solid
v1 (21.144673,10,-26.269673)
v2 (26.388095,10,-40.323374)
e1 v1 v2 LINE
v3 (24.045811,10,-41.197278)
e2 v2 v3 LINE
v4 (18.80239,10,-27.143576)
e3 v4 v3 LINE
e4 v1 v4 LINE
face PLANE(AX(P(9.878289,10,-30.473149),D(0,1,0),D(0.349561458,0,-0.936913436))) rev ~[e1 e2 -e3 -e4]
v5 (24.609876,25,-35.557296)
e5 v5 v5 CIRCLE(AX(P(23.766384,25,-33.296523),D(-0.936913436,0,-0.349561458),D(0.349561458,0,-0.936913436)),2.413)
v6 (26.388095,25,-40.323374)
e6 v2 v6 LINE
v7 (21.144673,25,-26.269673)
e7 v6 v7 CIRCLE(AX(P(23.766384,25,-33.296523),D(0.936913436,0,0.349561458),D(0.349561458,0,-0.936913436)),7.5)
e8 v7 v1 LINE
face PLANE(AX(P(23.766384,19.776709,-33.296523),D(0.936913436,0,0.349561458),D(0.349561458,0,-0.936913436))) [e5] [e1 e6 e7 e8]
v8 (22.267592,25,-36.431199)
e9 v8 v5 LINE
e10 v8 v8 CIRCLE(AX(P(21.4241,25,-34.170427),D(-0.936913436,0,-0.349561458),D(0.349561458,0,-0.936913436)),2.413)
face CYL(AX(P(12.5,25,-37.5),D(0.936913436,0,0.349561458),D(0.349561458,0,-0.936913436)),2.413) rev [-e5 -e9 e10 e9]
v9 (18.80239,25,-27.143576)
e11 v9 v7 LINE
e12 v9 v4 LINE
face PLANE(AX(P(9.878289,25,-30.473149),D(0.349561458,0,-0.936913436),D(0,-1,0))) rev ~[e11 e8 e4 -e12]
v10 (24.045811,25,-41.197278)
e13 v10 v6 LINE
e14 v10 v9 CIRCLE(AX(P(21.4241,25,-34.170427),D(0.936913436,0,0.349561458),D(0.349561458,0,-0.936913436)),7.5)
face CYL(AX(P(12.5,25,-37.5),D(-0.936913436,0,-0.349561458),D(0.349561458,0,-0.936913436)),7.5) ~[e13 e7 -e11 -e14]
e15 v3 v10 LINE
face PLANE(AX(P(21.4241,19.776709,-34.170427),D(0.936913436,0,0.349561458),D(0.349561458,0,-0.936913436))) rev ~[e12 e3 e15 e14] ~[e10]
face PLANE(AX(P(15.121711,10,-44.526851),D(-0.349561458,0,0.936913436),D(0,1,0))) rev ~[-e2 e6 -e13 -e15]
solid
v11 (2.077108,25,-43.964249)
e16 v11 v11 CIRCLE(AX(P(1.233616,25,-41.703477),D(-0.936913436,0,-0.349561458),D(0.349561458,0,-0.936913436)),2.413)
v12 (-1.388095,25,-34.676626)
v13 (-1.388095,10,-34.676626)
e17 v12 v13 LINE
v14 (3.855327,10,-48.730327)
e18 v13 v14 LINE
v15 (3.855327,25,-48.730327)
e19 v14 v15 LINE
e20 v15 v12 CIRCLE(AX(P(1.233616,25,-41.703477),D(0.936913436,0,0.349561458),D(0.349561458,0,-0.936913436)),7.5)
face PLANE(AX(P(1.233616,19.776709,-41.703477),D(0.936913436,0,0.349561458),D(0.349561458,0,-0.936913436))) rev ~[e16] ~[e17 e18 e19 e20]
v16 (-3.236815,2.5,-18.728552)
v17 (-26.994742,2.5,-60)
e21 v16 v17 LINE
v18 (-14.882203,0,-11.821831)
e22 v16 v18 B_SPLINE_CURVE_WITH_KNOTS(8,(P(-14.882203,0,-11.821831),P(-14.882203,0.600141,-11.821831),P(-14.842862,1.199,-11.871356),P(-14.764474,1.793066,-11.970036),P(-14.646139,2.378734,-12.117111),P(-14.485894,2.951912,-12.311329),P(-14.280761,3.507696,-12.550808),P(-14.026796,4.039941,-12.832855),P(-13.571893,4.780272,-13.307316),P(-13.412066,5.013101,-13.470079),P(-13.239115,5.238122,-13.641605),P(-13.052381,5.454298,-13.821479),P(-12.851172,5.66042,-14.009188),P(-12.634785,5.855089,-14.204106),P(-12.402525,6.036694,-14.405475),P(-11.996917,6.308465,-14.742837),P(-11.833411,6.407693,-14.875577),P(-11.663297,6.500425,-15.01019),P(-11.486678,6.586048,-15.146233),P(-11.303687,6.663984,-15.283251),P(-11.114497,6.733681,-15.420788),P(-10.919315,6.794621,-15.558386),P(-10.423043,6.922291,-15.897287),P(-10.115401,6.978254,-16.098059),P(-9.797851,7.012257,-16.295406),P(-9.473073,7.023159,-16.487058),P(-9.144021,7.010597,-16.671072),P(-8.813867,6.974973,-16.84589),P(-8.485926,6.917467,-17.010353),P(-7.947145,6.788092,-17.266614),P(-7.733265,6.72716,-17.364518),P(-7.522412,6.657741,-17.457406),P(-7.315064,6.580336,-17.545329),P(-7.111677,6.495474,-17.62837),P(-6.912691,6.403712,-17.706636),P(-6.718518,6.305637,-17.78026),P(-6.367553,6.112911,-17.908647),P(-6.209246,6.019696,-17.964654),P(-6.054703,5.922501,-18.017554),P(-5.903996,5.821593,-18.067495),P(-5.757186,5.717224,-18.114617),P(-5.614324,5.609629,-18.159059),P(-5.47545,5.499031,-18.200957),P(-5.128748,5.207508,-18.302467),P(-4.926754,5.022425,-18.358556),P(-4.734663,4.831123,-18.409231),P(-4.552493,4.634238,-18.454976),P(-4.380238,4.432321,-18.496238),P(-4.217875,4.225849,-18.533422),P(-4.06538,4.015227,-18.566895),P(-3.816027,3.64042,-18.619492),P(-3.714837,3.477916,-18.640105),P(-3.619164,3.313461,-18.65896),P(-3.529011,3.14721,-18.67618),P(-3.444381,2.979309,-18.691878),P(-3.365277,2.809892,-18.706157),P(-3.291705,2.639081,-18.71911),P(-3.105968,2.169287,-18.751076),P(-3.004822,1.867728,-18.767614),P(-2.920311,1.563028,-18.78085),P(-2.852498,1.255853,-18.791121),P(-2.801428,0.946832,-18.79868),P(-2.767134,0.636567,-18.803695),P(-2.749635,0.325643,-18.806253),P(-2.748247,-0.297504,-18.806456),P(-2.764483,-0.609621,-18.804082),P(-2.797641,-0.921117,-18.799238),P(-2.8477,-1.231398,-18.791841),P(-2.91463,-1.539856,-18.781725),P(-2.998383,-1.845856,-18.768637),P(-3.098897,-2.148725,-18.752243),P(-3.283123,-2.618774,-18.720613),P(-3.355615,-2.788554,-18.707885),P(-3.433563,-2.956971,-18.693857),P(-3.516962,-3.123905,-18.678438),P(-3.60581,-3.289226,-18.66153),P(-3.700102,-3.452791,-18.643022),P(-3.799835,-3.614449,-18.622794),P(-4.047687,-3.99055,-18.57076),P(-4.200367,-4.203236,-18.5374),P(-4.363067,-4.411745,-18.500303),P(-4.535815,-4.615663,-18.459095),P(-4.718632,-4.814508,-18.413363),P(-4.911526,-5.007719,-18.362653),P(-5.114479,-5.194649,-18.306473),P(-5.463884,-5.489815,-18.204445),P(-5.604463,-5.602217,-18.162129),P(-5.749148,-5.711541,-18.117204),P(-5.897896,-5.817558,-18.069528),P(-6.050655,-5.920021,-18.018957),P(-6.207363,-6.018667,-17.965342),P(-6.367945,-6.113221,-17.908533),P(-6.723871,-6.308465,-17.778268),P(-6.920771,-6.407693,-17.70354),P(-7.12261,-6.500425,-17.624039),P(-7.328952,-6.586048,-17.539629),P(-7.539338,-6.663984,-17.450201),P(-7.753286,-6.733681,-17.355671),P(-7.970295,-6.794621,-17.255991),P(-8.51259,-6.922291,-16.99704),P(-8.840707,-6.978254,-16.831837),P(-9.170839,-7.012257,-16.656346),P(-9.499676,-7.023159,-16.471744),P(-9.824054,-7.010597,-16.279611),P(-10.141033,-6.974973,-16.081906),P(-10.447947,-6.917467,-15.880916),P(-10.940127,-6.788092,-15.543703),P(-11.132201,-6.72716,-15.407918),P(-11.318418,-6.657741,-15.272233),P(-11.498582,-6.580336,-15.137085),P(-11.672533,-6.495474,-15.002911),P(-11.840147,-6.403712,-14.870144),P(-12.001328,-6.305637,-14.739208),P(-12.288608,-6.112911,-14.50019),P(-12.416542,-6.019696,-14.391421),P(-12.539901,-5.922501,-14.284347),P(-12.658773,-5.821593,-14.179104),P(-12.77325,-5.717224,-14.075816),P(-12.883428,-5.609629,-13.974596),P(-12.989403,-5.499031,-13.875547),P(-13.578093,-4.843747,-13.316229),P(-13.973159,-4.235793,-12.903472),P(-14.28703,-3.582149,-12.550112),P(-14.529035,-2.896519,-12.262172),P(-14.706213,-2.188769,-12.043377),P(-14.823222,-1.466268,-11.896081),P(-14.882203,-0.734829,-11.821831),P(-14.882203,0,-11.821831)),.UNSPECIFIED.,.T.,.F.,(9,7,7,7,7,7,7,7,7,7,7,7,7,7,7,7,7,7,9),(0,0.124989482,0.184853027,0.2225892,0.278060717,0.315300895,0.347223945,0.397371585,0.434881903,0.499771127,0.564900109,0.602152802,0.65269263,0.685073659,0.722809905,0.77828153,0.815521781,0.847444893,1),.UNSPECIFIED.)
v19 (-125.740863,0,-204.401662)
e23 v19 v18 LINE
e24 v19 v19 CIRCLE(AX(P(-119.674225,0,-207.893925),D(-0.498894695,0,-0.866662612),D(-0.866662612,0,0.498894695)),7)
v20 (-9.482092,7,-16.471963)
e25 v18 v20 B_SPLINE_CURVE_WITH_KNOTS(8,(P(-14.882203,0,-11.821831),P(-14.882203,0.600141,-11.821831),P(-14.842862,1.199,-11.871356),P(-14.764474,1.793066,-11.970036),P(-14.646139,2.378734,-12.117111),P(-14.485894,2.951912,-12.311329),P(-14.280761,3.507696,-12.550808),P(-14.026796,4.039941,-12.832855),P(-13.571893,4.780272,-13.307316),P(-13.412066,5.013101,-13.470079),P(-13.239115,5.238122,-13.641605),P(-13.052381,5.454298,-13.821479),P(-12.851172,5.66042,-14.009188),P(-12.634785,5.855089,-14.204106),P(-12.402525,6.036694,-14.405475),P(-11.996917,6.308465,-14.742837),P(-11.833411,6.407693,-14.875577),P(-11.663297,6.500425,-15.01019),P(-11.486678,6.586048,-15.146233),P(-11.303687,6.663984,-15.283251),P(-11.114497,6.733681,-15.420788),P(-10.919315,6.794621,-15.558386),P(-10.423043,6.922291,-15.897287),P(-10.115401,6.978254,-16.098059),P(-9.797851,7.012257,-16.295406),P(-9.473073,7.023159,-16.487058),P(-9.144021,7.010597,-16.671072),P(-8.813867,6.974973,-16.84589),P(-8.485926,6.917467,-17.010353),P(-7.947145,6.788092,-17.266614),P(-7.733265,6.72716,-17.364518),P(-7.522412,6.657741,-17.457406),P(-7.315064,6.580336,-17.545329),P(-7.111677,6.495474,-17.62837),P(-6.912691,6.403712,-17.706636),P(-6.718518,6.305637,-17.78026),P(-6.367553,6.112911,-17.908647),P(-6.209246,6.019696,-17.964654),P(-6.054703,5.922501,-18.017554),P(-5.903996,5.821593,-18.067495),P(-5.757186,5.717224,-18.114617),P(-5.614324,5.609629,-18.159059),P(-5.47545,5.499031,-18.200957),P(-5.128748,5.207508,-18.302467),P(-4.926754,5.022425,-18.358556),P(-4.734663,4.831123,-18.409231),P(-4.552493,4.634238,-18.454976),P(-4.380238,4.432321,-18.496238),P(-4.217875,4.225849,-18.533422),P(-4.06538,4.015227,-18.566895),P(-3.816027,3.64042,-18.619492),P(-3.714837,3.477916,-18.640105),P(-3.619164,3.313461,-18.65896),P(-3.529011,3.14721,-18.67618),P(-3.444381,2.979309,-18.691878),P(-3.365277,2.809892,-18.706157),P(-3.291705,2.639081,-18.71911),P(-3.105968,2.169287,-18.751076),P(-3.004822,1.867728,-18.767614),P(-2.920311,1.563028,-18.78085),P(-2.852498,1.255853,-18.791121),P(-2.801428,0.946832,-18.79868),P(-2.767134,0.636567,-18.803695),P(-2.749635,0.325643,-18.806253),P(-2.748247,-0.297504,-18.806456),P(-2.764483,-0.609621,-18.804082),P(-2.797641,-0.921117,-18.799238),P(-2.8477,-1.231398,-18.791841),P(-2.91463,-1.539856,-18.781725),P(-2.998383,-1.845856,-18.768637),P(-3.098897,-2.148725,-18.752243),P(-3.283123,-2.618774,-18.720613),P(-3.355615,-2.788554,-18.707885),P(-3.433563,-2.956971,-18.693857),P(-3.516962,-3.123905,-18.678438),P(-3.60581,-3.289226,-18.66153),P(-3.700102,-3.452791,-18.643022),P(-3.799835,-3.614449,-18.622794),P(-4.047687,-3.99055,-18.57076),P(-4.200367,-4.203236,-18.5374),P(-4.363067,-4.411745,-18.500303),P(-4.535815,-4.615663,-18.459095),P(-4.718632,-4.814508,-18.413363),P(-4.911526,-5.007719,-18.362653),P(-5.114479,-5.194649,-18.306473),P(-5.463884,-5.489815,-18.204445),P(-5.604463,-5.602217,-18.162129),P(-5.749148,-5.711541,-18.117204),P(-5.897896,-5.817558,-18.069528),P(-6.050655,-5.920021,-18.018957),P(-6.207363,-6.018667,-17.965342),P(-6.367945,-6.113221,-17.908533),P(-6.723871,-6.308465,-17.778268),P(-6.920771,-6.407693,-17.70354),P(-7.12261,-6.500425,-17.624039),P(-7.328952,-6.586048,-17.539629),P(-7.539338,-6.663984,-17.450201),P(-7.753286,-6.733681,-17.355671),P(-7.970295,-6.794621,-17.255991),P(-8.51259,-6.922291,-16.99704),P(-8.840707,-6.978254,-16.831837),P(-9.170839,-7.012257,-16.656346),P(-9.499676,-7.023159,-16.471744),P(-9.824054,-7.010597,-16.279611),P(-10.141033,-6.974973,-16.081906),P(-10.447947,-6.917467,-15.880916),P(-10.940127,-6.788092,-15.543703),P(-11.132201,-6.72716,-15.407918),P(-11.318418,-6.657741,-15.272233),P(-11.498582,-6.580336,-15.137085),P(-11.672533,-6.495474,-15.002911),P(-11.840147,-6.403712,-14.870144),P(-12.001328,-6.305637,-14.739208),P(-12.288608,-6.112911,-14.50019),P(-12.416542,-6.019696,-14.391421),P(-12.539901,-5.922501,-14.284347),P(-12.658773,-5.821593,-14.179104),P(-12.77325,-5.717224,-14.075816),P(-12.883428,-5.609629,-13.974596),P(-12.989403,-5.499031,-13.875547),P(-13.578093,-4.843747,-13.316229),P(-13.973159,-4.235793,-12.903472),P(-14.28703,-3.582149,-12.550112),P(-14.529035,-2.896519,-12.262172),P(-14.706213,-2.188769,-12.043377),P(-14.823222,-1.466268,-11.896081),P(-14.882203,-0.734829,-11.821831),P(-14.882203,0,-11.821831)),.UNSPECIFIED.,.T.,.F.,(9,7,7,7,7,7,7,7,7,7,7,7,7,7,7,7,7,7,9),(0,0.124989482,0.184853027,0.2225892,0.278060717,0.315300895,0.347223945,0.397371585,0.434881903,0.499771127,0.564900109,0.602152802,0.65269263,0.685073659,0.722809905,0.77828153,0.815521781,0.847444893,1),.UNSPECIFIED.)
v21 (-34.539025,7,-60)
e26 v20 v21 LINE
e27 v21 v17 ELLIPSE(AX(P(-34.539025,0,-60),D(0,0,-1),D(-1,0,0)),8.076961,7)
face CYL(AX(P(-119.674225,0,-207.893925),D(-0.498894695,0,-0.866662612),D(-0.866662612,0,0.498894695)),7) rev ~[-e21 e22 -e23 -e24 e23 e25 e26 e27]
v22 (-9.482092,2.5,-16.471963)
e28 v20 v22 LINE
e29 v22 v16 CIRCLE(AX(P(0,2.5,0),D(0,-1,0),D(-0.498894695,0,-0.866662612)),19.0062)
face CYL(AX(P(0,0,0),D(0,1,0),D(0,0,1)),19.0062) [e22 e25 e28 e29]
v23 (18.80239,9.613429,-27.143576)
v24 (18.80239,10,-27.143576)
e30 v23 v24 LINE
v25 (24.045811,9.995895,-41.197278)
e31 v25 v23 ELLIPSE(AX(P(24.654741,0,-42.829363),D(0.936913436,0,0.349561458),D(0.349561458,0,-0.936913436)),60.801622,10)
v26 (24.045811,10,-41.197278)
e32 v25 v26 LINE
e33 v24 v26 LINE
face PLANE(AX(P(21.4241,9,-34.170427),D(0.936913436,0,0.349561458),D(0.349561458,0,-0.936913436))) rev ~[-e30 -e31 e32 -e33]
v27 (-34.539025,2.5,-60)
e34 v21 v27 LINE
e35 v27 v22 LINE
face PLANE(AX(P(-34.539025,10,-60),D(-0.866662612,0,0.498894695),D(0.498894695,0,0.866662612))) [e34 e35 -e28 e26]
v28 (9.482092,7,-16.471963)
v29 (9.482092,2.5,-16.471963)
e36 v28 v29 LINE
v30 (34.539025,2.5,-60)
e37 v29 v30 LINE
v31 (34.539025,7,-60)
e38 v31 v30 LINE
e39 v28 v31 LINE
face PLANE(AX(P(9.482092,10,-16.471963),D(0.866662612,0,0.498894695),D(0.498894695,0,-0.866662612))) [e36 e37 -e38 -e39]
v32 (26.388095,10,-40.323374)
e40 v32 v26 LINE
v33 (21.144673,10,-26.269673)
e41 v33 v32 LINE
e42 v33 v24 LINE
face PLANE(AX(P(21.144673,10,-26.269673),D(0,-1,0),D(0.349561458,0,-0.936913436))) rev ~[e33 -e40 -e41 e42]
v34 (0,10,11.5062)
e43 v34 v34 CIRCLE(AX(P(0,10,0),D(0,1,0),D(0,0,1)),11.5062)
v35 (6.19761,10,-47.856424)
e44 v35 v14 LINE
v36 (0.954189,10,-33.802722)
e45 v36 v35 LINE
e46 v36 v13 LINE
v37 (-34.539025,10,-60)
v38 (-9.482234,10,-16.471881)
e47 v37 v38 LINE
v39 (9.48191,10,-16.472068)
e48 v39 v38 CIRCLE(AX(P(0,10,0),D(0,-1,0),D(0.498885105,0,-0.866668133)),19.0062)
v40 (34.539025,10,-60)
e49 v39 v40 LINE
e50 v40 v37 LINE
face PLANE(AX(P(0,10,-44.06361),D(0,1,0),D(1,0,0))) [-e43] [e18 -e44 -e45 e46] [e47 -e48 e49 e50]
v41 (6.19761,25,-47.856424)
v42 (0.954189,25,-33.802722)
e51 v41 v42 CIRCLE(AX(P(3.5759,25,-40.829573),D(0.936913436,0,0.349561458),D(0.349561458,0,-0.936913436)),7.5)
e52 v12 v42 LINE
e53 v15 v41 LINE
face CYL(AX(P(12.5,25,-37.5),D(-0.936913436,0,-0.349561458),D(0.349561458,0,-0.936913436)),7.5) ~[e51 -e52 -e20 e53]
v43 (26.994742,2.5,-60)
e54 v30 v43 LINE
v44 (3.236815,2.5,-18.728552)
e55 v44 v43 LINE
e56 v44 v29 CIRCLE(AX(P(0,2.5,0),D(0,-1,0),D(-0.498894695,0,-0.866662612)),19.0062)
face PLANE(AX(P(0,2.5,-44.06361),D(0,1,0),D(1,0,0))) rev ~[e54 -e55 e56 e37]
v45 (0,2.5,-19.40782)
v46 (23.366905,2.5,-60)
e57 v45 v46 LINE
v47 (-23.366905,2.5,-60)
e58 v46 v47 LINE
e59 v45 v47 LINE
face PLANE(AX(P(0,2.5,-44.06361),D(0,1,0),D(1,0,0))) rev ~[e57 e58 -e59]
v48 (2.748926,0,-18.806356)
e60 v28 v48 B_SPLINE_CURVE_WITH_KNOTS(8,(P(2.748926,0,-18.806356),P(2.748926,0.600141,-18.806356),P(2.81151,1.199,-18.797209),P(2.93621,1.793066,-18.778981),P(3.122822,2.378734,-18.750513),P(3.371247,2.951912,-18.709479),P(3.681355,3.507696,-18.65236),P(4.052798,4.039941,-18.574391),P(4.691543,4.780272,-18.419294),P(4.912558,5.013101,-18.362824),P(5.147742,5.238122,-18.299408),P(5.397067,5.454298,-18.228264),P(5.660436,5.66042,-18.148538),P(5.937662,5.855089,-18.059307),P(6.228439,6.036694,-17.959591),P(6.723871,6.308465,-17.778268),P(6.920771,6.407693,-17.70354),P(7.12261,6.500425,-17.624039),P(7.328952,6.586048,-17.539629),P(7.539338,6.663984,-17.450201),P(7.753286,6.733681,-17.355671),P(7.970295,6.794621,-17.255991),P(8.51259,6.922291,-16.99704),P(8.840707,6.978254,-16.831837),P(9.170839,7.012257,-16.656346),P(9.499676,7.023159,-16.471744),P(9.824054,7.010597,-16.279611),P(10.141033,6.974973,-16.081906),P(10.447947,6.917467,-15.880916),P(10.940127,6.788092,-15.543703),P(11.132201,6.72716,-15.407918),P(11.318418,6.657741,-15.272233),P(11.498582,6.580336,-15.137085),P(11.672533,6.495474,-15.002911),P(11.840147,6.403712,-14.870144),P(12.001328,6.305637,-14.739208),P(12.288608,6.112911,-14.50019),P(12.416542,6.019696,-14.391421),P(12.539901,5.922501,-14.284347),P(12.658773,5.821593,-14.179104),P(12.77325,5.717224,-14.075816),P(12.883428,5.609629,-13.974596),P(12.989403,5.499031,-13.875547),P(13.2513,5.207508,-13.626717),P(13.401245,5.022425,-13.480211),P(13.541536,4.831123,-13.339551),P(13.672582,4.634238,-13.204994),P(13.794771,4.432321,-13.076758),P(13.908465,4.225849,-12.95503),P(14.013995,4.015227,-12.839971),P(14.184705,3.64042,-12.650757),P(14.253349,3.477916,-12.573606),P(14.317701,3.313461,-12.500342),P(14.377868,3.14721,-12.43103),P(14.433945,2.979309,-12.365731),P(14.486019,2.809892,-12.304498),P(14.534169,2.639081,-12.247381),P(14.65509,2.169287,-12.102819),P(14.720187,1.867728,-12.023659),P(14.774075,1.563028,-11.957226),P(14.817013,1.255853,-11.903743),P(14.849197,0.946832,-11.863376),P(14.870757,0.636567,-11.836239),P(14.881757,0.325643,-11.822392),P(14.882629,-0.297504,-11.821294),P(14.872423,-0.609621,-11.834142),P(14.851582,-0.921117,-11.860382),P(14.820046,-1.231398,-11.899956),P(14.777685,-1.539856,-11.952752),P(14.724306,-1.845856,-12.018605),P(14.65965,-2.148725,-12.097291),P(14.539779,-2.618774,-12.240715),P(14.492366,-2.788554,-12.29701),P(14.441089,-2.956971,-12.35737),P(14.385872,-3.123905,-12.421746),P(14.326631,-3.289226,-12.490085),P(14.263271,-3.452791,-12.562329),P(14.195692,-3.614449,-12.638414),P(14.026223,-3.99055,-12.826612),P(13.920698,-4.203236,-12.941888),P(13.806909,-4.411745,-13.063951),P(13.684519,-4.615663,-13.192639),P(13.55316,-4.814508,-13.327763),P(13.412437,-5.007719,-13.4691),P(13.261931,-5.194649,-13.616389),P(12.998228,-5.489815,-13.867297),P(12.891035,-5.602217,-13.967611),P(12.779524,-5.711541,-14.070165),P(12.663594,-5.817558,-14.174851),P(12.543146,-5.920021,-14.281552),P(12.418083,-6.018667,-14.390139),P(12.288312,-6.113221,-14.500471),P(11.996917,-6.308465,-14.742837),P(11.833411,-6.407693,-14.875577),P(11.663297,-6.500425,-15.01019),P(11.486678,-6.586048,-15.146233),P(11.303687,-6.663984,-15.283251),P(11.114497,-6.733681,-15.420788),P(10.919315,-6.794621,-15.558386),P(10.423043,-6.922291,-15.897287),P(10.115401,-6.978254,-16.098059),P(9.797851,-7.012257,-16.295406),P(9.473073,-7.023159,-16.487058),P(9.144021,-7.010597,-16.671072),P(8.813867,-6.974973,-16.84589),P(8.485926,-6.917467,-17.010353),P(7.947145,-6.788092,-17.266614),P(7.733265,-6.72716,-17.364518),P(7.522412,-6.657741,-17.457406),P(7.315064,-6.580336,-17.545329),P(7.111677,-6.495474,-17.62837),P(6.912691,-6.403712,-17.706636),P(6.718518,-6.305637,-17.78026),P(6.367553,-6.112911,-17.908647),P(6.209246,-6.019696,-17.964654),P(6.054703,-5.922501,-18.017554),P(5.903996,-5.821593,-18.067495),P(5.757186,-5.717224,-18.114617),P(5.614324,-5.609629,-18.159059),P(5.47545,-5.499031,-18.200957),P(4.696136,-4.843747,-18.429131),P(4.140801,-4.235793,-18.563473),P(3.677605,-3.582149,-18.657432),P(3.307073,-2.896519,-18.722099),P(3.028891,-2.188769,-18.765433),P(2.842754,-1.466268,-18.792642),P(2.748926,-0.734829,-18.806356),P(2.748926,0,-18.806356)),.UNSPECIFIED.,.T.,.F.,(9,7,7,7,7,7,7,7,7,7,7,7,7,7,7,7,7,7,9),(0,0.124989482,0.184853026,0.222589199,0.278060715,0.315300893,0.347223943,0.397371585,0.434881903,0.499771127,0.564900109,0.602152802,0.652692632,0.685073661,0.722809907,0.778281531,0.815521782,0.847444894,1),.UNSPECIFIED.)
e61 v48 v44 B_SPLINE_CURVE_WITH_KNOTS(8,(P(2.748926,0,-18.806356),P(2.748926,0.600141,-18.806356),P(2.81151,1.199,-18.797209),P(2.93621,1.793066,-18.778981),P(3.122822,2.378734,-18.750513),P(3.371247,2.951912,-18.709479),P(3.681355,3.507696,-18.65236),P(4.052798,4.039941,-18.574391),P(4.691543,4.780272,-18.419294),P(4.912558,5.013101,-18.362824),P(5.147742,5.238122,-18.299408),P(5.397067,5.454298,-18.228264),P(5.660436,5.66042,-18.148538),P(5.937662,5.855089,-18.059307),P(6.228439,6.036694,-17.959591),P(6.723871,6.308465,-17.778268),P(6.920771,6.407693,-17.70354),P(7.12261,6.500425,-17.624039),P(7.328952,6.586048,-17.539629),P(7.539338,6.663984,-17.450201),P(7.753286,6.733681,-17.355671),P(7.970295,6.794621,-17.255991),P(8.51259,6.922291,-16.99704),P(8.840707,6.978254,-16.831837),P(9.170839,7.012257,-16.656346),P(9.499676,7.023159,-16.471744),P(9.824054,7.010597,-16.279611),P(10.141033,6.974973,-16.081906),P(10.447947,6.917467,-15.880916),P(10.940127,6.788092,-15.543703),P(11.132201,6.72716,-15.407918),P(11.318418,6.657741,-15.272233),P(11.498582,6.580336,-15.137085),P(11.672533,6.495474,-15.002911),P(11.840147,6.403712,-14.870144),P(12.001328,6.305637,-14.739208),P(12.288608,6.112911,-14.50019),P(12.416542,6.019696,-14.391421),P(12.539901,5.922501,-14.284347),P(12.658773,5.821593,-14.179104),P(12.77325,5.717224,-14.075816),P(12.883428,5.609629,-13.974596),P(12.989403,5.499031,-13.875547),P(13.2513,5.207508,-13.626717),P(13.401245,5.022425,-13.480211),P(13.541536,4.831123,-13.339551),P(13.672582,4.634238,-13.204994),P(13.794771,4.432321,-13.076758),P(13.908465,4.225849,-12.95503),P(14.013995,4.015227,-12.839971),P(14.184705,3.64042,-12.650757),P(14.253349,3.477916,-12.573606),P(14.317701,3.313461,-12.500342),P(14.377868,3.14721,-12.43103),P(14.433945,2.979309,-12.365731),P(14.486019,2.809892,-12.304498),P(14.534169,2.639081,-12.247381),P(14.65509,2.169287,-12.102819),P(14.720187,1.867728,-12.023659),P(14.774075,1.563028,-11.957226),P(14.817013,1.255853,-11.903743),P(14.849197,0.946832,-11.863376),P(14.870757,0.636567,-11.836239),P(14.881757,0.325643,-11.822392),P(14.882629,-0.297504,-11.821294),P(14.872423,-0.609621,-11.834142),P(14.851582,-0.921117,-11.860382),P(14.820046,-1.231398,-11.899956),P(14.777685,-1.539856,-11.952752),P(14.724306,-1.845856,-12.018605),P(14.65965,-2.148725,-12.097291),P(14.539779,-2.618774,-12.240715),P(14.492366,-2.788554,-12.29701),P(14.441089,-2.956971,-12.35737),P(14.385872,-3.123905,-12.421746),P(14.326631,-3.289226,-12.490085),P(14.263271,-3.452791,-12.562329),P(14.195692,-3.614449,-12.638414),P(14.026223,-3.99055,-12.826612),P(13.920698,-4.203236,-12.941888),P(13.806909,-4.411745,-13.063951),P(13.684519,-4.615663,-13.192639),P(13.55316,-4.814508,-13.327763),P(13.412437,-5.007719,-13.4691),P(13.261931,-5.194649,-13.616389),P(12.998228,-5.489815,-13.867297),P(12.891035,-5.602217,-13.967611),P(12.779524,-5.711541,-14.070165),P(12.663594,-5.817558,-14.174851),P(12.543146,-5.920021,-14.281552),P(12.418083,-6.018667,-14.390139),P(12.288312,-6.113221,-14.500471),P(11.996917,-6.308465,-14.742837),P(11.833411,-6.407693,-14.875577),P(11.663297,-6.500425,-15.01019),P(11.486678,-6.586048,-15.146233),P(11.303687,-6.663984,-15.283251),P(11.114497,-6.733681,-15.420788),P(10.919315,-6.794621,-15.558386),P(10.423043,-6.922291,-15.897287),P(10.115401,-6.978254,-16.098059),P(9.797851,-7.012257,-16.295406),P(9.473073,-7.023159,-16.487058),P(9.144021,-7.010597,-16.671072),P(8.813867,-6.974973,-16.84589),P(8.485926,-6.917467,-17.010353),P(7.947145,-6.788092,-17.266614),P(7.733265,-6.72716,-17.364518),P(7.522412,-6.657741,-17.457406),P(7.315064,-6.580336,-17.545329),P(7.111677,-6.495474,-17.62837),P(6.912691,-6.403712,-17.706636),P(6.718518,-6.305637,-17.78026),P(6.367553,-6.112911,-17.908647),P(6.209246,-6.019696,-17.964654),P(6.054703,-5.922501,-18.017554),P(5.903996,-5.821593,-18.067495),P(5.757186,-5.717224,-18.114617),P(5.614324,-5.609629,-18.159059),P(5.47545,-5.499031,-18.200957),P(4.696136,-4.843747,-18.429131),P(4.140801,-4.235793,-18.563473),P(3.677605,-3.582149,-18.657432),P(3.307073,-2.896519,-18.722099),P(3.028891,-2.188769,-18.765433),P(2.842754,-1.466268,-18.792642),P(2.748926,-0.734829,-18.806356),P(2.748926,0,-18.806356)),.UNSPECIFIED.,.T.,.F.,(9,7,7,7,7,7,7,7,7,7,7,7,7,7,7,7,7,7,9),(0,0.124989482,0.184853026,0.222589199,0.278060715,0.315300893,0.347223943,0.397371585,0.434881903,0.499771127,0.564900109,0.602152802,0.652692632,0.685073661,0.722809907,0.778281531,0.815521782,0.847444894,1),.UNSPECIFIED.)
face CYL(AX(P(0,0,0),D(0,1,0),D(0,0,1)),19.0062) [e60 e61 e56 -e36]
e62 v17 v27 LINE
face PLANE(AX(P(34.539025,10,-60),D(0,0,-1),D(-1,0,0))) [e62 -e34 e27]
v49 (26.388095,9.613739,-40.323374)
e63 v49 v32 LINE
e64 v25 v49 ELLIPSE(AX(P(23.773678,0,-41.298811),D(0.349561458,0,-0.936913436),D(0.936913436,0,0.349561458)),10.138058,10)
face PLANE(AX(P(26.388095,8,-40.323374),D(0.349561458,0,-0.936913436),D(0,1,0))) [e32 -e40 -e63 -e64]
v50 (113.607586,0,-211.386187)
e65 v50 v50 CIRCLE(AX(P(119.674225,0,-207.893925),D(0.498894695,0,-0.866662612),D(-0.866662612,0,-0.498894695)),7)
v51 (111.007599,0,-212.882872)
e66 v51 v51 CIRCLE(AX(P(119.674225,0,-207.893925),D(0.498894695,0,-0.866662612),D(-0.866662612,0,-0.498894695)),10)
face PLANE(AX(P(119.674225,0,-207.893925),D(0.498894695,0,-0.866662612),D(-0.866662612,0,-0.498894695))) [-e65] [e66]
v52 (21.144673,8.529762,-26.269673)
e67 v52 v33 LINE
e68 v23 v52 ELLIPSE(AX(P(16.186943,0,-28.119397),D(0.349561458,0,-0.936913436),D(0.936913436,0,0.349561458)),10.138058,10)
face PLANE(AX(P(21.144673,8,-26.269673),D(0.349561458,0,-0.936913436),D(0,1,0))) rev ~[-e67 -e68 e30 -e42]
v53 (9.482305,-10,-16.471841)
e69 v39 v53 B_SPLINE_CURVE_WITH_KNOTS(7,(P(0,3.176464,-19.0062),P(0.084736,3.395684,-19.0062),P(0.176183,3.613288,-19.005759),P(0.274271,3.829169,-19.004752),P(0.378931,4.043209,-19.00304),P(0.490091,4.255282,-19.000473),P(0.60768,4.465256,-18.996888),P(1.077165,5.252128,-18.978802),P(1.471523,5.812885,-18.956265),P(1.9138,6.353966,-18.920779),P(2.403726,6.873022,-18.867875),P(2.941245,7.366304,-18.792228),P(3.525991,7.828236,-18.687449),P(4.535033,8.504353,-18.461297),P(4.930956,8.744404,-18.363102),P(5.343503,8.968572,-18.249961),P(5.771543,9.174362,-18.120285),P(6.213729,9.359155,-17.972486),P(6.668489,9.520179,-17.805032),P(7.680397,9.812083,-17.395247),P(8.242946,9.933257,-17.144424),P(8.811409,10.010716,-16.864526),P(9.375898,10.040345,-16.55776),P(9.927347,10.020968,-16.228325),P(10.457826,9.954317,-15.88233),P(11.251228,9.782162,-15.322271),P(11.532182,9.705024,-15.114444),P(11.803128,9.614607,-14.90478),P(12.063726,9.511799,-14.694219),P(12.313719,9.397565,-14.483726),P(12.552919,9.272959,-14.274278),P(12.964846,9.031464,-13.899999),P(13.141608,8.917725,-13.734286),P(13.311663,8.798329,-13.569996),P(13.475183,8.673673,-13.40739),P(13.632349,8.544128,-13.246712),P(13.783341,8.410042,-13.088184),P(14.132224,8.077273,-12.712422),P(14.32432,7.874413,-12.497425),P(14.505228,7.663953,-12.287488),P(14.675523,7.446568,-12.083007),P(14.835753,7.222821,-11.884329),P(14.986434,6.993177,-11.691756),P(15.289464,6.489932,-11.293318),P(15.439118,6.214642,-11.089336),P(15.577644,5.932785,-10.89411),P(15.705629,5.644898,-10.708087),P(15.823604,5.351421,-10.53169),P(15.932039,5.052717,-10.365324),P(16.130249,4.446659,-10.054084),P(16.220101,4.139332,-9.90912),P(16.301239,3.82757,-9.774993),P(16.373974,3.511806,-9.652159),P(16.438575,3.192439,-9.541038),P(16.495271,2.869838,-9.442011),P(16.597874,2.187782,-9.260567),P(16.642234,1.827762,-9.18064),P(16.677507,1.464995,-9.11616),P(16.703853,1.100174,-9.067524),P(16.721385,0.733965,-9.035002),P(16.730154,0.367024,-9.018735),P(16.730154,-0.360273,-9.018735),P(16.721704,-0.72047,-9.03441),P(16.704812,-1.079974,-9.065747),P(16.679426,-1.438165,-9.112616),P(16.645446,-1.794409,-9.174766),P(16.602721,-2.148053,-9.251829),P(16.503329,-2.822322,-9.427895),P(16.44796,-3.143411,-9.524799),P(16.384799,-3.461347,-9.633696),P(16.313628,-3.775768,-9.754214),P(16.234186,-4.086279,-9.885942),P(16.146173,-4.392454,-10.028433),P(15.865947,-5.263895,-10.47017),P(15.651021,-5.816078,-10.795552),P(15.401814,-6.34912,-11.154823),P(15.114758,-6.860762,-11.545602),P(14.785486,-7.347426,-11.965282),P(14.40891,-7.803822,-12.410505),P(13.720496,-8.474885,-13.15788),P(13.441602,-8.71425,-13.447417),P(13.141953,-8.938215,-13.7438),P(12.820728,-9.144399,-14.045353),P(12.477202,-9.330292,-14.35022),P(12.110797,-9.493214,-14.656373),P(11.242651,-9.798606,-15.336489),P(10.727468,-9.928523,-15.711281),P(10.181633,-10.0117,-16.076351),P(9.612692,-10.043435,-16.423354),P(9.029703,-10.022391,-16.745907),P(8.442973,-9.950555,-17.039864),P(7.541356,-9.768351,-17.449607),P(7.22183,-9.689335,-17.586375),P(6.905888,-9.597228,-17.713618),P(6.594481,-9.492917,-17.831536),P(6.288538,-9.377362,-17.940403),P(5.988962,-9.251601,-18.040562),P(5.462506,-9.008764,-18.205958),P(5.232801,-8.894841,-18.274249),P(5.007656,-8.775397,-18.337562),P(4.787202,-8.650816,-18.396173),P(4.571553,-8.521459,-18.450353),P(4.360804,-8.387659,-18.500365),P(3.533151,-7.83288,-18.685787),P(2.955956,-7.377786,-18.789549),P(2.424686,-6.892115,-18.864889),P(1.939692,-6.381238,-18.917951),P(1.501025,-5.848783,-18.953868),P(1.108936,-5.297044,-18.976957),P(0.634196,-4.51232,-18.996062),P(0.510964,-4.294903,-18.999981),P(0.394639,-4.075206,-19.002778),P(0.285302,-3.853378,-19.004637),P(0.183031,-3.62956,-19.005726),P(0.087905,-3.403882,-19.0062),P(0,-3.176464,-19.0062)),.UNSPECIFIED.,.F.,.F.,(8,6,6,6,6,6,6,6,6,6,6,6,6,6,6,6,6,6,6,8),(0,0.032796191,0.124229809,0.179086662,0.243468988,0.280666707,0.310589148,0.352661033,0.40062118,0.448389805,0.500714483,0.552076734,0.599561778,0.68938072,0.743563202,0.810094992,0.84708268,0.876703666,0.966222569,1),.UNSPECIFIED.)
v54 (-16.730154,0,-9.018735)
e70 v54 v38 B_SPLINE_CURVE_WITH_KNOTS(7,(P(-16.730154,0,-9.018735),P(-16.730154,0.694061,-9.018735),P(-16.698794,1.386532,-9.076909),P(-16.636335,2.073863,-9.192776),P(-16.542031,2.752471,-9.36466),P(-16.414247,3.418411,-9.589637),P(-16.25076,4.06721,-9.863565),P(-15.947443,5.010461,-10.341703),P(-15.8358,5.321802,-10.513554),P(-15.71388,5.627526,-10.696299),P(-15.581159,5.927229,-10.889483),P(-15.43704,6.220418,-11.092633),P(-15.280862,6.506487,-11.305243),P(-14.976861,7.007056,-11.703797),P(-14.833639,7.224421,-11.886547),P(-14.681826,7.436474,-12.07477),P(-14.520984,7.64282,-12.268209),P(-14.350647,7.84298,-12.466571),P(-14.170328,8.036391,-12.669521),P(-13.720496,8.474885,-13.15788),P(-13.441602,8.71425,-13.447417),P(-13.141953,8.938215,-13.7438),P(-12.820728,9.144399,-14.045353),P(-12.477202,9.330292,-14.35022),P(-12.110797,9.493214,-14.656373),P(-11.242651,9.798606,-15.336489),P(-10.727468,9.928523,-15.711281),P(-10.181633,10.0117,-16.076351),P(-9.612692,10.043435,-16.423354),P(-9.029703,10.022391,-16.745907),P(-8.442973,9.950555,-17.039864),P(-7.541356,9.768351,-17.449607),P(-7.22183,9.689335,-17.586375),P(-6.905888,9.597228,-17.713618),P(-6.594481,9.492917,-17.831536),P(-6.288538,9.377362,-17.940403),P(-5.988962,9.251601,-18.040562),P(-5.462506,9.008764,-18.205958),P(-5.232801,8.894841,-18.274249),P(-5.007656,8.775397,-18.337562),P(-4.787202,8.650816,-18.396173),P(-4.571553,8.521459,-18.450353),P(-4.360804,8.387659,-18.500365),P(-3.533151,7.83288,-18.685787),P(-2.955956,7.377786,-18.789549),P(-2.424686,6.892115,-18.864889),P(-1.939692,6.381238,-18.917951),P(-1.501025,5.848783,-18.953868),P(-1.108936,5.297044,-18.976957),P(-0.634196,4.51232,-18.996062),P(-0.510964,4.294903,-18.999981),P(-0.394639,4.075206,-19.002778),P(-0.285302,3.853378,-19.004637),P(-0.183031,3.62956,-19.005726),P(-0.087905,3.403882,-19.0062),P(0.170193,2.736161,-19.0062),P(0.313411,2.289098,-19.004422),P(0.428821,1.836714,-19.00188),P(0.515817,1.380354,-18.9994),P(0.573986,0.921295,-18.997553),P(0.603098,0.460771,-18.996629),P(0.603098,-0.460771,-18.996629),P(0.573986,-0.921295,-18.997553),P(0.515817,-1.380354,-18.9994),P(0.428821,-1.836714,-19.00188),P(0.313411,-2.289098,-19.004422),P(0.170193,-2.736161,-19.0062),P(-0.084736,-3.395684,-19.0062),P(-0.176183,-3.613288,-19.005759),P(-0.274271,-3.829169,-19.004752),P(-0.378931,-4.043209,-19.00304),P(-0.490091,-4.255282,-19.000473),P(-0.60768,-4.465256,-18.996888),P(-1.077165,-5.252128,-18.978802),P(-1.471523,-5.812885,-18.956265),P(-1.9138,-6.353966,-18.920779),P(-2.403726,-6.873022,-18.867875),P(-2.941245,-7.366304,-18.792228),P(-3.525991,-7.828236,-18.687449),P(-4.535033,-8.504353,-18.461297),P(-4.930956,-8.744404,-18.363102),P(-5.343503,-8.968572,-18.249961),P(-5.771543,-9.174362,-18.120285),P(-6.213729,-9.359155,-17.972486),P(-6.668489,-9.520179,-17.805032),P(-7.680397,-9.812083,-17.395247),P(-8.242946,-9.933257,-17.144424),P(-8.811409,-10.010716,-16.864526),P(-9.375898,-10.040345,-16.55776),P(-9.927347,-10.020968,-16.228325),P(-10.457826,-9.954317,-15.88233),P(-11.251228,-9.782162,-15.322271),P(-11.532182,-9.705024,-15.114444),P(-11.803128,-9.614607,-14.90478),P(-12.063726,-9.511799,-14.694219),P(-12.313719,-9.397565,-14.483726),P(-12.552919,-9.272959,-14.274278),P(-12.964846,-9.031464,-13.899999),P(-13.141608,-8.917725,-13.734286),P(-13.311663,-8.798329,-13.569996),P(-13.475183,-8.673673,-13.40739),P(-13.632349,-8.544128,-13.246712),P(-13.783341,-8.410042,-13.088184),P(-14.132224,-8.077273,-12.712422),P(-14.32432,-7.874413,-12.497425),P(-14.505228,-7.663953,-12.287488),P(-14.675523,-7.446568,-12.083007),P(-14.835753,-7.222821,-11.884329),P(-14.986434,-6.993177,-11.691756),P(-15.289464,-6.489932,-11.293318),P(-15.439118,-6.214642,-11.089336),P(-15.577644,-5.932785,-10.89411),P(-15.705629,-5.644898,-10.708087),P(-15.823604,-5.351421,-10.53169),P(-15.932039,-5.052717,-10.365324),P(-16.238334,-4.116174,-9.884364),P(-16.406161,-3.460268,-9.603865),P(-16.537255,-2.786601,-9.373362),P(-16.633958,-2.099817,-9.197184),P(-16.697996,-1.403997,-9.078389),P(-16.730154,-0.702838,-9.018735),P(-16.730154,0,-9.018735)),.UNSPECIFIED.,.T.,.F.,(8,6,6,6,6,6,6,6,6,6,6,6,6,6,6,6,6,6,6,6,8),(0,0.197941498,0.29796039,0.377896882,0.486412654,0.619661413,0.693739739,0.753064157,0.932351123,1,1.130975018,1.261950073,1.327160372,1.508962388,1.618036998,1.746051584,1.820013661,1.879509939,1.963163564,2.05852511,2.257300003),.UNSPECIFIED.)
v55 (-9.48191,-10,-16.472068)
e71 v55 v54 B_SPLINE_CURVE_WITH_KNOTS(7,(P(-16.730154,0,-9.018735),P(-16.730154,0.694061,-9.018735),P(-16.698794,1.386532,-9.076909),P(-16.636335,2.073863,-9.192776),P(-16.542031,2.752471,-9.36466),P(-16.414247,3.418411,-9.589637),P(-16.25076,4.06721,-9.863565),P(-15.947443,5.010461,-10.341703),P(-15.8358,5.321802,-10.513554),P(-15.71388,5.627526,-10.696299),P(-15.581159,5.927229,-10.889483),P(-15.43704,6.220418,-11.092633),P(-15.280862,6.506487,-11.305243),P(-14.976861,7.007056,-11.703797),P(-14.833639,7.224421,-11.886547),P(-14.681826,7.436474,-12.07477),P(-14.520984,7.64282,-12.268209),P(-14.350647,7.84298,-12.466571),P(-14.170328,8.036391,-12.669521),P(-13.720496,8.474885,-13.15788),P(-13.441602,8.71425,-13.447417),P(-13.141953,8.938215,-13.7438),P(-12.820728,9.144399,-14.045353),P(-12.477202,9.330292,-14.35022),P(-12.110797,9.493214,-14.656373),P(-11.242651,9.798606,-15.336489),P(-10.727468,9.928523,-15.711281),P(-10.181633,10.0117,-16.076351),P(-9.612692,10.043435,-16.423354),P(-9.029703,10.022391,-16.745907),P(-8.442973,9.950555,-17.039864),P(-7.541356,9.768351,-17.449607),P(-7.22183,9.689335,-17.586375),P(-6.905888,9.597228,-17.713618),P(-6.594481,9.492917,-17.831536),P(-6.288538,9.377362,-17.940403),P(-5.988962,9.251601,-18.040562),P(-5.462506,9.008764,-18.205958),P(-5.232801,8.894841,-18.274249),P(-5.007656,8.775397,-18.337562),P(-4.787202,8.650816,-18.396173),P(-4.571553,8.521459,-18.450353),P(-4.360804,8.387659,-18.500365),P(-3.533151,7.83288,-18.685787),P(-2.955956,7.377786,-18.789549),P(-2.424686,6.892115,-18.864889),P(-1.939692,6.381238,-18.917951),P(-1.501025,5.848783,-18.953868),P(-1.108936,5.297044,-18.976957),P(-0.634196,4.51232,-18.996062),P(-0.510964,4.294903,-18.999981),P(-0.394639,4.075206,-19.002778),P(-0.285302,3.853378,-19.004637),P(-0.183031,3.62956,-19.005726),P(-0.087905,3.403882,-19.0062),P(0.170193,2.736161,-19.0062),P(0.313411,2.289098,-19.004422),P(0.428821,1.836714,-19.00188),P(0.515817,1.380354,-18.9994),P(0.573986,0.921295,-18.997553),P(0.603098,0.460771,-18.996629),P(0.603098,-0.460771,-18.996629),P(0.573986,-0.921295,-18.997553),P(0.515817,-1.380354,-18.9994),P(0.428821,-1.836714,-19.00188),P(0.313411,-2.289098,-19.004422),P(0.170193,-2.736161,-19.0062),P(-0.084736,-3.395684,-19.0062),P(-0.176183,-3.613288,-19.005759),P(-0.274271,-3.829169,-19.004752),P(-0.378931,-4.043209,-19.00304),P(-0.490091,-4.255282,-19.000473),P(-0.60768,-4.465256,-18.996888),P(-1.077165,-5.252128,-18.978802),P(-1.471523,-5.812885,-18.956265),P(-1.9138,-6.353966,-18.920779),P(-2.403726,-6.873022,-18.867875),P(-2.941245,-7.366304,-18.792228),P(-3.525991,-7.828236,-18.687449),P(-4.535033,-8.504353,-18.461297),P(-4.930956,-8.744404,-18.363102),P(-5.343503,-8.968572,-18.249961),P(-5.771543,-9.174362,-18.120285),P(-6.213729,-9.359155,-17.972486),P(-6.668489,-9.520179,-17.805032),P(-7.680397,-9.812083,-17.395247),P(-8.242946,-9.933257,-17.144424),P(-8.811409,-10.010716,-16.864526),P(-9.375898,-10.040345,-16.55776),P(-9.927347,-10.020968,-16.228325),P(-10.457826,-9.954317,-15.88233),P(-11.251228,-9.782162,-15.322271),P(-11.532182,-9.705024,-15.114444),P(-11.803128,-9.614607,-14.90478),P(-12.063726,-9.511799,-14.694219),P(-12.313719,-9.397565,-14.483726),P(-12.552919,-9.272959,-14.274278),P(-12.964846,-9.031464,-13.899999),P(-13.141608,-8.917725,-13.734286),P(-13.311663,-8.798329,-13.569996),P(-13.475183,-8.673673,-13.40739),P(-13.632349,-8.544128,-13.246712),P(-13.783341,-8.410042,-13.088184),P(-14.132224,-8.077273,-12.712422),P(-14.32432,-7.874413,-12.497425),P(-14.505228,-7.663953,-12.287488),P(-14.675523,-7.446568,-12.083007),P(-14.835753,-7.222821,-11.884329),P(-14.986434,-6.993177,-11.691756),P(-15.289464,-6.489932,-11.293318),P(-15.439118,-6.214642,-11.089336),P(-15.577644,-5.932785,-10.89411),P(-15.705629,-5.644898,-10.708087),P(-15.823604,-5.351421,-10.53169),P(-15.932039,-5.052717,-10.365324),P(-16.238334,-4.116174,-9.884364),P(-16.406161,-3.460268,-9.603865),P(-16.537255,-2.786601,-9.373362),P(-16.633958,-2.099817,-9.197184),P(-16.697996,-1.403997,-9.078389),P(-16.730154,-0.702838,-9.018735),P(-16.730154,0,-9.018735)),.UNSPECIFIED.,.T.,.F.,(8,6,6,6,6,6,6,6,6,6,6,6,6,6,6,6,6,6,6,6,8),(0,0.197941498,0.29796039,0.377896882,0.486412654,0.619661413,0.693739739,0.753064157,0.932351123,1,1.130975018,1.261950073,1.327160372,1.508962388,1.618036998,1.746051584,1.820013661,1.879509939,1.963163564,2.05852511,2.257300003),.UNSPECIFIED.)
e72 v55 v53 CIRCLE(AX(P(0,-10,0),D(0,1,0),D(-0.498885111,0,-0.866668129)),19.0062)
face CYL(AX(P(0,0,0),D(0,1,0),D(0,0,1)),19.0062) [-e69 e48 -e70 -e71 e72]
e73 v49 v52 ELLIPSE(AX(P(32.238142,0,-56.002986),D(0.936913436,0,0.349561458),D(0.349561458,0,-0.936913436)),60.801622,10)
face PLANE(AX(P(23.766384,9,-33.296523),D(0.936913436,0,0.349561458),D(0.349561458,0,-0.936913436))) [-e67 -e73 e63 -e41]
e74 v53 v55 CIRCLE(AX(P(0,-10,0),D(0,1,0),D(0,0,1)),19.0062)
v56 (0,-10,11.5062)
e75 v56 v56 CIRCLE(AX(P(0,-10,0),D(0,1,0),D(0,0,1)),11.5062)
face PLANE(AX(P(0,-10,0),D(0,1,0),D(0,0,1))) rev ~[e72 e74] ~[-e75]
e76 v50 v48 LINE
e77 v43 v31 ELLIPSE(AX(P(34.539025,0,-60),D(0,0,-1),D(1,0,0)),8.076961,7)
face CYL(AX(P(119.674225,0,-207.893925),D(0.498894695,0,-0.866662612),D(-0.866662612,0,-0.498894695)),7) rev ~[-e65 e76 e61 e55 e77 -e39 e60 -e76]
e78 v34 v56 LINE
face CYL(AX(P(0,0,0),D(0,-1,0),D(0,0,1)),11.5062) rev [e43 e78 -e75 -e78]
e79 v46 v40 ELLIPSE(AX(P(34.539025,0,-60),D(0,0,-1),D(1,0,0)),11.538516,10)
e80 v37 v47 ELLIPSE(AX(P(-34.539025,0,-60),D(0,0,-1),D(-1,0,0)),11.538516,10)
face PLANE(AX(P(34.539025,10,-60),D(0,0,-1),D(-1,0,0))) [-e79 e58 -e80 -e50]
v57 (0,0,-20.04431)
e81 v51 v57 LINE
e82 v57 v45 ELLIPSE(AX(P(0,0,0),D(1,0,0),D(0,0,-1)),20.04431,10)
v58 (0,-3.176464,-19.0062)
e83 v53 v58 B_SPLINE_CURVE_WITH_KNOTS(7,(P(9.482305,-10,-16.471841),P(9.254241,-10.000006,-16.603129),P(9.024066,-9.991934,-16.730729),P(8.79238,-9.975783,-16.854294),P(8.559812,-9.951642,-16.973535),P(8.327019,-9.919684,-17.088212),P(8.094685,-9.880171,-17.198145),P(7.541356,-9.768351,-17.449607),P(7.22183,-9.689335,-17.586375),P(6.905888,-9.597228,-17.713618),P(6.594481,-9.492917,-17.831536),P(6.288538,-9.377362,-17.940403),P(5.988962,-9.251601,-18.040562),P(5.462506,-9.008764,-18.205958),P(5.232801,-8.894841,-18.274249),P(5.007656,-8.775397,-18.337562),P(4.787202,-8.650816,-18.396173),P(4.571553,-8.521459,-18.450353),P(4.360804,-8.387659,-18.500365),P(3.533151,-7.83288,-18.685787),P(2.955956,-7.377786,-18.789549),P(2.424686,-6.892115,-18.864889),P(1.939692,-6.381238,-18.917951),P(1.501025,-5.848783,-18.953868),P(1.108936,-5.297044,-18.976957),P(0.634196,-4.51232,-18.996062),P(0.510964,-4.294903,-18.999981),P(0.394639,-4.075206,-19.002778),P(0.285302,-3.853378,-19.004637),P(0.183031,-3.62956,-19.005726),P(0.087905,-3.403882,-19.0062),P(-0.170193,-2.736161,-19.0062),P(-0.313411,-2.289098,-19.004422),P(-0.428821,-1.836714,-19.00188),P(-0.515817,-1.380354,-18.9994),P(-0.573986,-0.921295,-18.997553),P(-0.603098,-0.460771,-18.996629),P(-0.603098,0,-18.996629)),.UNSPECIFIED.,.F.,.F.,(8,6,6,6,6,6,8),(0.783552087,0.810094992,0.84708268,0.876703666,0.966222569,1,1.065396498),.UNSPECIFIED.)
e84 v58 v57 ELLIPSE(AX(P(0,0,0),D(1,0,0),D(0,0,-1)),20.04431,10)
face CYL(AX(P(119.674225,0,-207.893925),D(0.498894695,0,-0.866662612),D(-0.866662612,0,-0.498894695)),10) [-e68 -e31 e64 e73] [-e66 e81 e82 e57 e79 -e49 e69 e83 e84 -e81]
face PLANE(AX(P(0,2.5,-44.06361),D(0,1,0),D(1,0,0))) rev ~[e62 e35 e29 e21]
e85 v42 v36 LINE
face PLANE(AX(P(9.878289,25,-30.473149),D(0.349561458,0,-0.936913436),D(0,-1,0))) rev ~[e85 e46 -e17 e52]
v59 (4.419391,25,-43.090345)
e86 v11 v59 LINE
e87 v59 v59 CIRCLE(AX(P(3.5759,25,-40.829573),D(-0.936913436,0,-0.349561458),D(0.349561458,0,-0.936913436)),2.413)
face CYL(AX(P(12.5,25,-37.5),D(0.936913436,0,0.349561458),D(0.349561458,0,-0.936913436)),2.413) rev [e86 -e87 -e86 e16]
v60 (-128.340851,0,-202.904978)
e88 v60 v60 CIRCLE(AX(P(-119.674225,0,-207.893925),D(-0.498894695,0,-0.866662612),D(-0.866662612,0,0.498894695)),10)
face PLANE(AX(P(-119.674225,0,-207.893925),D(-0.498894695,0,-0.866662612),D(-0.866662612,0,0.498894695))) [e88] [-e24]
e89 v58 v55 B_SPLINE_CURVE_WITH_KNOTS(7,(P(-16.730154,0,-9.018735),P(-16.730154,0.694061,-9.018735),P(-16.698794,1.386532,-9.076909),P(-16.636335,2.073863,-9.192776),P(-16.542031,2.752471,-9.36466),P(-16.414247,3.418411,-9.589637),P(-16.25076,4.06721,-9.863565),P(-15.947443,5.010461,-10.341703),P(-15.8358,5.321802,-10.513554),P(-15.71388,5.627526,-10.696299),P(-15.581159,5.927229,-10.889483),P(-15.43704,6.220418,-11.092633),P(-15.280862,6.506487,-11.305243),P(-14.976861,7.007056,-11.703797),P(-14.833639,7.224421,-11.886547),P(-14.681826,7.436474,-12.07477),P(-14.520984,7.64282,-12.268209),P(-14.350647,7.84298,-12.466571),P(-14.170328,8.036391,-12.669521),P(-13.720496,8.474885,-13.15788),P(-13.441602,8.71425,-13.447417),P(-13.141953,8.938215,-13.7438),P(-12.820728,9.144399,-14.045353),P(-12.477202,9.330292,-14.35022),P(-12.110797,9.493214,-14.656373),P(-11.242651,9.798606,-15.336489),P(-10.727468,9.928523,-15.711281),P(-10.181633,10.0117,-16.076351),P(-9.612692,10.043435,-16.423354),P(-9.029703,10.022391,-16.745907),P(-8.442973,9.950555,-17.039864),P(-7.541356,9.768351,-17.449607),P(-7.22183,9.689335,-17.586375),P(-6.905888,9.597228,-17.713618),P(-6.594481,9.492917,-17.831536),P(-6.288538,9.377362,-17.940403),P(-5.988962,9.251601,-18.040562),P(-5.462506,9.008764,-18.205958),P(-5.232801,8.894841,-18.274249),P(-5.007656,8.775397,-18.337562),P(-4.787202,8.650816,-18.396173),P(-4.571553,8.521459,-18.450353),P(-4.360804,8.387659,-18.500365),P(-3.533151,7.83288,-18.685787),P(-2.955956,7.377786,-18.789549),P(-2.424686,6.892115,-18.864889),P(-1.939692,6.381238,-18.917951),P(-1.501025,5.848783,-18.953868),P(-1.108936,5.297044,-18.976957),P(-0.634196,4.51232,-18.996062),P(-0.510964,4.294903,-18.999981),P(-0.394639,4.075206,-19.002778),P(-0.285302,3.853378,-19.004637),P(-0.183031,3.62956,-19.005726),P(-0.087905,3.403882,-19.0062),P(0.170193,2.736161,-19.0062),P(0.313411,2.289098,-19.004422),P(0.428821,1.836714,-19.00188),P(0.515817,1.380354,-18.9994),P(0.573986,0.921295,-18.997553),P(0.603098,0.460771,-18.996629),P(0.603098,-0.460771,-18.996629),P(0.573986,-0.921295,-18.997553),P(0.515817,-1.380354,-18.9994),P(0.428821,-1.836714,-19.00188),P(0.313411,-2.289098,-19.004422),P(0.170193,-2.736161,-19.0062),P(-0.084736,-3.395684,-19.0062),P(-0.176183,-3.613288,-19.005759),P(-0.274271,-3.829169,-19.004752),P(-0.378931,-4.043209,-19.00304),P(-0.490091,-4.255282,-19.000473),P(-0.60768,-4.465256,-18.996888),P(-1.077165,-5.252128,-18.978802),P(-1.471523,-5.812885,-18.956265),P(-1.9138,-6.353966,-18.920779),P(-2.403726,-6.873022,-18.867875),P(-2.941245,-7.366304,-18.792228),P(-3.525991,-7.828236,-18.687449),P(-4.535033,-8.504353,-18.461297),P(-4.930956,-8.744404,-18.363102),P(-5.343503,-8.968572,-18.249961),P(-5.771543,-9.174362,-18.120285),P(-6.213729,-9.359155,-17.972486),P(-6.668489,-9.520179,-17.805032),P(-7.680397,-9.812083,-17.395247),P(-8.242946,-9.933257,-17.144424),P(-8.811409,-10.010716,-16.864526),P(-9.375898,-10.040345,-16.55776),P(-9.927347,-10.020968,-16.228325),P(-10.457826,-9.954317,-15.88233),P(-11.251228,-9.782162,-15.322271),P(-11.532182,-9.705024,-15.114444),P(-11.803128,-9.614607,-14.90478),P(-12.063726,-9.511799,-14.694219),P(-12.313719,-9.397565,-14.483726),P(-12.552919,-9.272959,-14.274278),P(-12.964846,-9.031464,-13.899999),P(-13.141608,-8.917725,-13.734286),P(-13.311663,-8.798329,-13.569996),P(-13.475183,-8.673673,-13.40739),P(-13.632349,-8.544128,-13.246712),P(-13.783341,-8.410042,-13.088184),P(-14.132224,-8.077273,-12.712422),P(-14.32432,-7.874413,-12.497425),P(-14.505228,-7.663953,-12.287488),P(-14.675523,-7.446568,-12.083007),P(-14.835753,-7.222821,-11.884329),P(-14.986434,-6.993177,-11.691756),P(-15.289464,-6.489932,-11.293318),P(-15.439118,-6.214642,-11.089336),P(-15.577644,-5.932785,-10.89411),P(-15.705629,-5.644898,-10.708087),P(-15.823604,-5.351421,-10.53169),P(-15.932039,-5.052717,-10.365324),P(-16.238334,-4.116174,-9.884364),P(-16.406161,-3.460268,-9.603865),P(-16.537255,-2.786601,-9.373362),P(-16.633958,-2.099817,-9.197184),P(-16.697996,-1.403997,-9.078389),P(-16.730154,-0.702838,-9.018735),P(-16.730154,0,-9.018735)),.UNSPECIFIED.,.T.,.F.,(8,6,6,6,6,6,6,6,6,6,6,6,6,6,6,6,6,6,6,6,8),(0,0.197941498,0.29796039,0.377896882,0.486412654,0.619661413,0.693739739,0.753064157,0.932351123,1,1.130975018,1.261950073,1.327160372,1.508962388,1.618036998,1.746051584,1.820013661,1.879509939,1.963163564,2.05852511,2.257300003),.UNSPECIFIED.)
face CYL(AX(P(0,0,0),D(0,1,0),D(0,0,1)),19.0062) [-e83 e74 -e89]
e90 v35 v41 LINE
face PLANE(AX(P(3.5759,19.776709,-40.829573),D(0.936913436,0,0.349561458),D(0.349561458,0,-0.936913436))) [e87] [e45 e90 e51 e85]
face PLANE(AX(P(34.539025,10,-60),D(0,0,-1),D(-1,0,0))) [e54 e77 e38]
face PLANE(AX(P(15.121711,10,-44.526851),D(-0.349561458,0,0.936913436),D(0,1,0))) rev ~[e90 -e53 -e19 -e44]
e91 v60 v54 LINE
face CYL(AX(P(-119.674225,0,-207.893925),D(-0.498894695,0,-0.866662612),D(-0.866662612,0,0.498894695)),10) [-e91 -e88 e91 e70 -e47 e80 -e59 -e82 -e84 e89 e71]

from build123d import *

# Parameters (mm, degrees)
SKETCH1_R                = 19.0062
SKETCH1_R_2              = 11.5062
BOSS_EXTRUDE1_DEPTH      = 10
BOSS_EXTRUDE2_REACH      = 268.113
BOSS_EXTRUDE2_END_RADIUS = 19.0062
SKETCH5_R                = 10
SKETCH5_R_2              = 7
BOSS_EXTRUDE3_REACH      = 338.296
BOSS_EXTRUDE3_END_RADIUS = 19.0062
SKETCH6_R                = 10
SKETCH6_R_2              = 7
BOSS_EXTRUDE7_DEPTH      = 7.5
SKETCH14_R               = 2.413
BOSS_EXTRUDE8_DEPTH      = 12.025
SKETCH14_3_R             = 2.413
CUT_EXTRUDE1_DEPTH       = 9.525
SKETCH15_W               = 15
SKETCH15_H               = 2
BOSS_EXTRUDE9_DEPTH      = 2.5


with BuildPart() as part:
    # Sketch1 → Boss-Extrude1 (new, symmetric)
    with BuildSketch(Plane(origin=(0, 0, 0), x_dir=(1, 0, 0), z_dir=(0, 1, 0))):
        with Locations(Location((0, 0, 0), (0, 0, 270))):
            Circle(SKETCH1_R)
        with Locations(Location((0, 0, 0), (0, 0, 270))):
            Circle(SKETCH1_R_2, mode=Mode.SUBTRACT)
    extrude(amount=BOSS_EXTRUDE1_DEPTH, both=True)

    # Boss-Extrude2: up to this cylinder (the profile starts outside it)
    boss_extrude2_end = Plane(origin=(0, 0, 0), z_dir=(0, -1, 0)) * Cylinder(BOSS_EXTRUDE2_END_RADIUS, 575.2384, mode=Mode.PRIVATE)
    # Sketch5 → Boss-Extrude2 (add, up to the surface)
    with BuildSketch(Plane(origin=(119.67422463, 0, -207.893924576), x_dir=(0.86666261208593, 0, 0.4988946951135007), z_dir=(0.4988946951135007, 0, -0.86666261208593)), mode=Mode.PRIVATE) as boss_extrude2_sk1:
        with Locations(Location((0, 0, 0), (0, 0, 180))):
            Circle(SKETCH5_R)
        with Locations(Location((0, 0, 0), (0, 0, 180))):
            Circle(SKETCH5_R_2, mode=Mode.SUBTRACT)
    boss_extrude2_tool1 = extrude(boss_extrude2_sk1.sketch, amount=-BOSS_EXTRUDE2_REACH, mode=Mode.PRIVATE) - boss_extrude2_end
    add(boss_extrude2_tool1.solids().sort_by_distance((128.095722, 0, -203.046086))[0])

    # Boss-Extrude3: up to this cylinder (the profile starts outside it)
    boss_extrude3_end = Plane(origin=(0, 0, 0), z_dir=(0, -1, 0)) * Cylinder(BOSS_EXTRUDE3_END_RADIUS, 715.6044, mode=Mode.PRIVATE)
    # Sketch6 → Boss-Extrude3 (add, up to the surface)
    with BuildSketch(Plane(origin=(-119.67422463, 0, -207.893924576), x_dir=(-0.8666626120859262, 0, 0.49889469511350737), z_dir=(-0.4988946951135073, 0, -0.8666626120859261)), mode=Mode.PRIVATE) as boss_extrude3_sk1:
        Circle(SKETCH6_R)
        Circle(SKETCH6_R_2, mode=Mode.SUBTRACT)
    boss_extrude3_tool1 = extrude(boss_extrude3_sk1.sketch, amount=-BOSS_EXTRUDE3_REACH, mode=Mode.PRIVATE) - boss_extrude3_end
    add(boss_extrude3_tool1.solids().sort_by_distance((-111.252728, 0, -212.741763))[0])

    # Sketch13 → Boss-Extrude7 (add)
    with BuildSketch(Plane(origin=(0, 10, 0), x_dir=(1, 0, 0), z_dir=(0, 1, 0))):
        with BuildLine():
            Line((9.482092354, 16.471962938), (34.539025094, 60))
            Line((34.539025094, 60), (-34.539025094, 60))
            Line((-34.539025094, 60), (-9.482092354, 16.471962938))
            ThreePointArc((-9.482092354, 16.471962938), (0, 19.0062), (9.482092354, 16.471962938))
        make_face()
    extrude(amount=-BOSS_EXTRUDE7_DEPTH)

    # Sketch14 → Boss-Extrude8 (add, symmetric)
    with BuildSketch(Plane(origin=(-1.308996148, 0, -0.488385142), x_dir=(-0.34956145752045137, 0, 0.936913436458341), z_dir=(-0.9369134364583409, 0, -0.3495614575204513))):
        with BuildLine():
            Line((-47.003772086, 10), (-47.003772086, 25))
            ThreePointArc((-47.003772086, 25), (-39.503772086, 32.5), (-32.003772086, 25))
            Line((-32.003772086, 25), (-32.003772086, 10))
            Line((-32.003772086, 10), (-47.003772086, 10))
        make_face()
        with Locations(Location((-39.503772086, 25, 0), (0, 0, 180))):
            Circle(SKETCH14_R, mode=Mode.SUBTRACT)
    extrude(amount=BOSS_EXTRUDE8_DEPTH, both=True)

    # Sketch14<3> → Cut-Extrude1 (cut, symmetric)
    with BuildSketch(Plane(origin=(-1.308996148, 0, -0.488385142), x_dir=(-0.34956145752045137, 0, 0.936913436458341), z_dir=(-0.9369134364583409, 0, -0.3495614575204513))):
        with BuildLine():
            Line((-47.003772086, 10), (-47.003772086, 25))
            ThreePointArc((-47.003772086, 25), (-39.503772086, 32.5), (-32.003772086, 25))
            Line((-32.003772086, 25), (-32.003772086, 10))
            Line((-32.003772086, 10), (-47.003772086, 10))
        make_face()
        with Locations(Location((-39.503772086, 25, 0), (0, 0, 180))):
            Circle(SKETCH14_3_R, mode=Mode.SUBTRACT)
    extrude(amount=CUT_EXTRUDE1_DEPTH, both=True, mode=Mode.SUBTRACT)


with BuildPart() as cut_extrude1_piece_1:
    # of the separate pieces the step leaves, piece 1, a body of its own (cut_extrude1_pieces)
    add(part.part.solids().sort_by_distance((111.007598509, 0, -212.882871527))[0])

    # Sketch15 → Boss-Extrude9 (add)
    with BuildSketch(Plane(origin=(9.957387925, 0, 3.715091385), x_dir=(0.3495614575204513, 0, -0.936913436458341), z_dir=(0.936913436458341, 0, 0.3495614575204513))):
        with Locations((39.503772086, 9)):
            Rectangle(SKETCH15_W, SKETCH15_H)
    extrude(amount=-BOSS_EXTRUDE9_DEPTH)


with BuildPart() as cut_extrude1_piece_2:
    # of the separate pieces the step leaves, piece 2, a body of its own (cut_extrude1_pieces)
    add(part.part.solids().sort_by_distance((21.144673142, 10, -26.2696727))[0])


solid = Compound([cut_extrude1_piece_1.part, cut_extrude1_piece_2.part])
